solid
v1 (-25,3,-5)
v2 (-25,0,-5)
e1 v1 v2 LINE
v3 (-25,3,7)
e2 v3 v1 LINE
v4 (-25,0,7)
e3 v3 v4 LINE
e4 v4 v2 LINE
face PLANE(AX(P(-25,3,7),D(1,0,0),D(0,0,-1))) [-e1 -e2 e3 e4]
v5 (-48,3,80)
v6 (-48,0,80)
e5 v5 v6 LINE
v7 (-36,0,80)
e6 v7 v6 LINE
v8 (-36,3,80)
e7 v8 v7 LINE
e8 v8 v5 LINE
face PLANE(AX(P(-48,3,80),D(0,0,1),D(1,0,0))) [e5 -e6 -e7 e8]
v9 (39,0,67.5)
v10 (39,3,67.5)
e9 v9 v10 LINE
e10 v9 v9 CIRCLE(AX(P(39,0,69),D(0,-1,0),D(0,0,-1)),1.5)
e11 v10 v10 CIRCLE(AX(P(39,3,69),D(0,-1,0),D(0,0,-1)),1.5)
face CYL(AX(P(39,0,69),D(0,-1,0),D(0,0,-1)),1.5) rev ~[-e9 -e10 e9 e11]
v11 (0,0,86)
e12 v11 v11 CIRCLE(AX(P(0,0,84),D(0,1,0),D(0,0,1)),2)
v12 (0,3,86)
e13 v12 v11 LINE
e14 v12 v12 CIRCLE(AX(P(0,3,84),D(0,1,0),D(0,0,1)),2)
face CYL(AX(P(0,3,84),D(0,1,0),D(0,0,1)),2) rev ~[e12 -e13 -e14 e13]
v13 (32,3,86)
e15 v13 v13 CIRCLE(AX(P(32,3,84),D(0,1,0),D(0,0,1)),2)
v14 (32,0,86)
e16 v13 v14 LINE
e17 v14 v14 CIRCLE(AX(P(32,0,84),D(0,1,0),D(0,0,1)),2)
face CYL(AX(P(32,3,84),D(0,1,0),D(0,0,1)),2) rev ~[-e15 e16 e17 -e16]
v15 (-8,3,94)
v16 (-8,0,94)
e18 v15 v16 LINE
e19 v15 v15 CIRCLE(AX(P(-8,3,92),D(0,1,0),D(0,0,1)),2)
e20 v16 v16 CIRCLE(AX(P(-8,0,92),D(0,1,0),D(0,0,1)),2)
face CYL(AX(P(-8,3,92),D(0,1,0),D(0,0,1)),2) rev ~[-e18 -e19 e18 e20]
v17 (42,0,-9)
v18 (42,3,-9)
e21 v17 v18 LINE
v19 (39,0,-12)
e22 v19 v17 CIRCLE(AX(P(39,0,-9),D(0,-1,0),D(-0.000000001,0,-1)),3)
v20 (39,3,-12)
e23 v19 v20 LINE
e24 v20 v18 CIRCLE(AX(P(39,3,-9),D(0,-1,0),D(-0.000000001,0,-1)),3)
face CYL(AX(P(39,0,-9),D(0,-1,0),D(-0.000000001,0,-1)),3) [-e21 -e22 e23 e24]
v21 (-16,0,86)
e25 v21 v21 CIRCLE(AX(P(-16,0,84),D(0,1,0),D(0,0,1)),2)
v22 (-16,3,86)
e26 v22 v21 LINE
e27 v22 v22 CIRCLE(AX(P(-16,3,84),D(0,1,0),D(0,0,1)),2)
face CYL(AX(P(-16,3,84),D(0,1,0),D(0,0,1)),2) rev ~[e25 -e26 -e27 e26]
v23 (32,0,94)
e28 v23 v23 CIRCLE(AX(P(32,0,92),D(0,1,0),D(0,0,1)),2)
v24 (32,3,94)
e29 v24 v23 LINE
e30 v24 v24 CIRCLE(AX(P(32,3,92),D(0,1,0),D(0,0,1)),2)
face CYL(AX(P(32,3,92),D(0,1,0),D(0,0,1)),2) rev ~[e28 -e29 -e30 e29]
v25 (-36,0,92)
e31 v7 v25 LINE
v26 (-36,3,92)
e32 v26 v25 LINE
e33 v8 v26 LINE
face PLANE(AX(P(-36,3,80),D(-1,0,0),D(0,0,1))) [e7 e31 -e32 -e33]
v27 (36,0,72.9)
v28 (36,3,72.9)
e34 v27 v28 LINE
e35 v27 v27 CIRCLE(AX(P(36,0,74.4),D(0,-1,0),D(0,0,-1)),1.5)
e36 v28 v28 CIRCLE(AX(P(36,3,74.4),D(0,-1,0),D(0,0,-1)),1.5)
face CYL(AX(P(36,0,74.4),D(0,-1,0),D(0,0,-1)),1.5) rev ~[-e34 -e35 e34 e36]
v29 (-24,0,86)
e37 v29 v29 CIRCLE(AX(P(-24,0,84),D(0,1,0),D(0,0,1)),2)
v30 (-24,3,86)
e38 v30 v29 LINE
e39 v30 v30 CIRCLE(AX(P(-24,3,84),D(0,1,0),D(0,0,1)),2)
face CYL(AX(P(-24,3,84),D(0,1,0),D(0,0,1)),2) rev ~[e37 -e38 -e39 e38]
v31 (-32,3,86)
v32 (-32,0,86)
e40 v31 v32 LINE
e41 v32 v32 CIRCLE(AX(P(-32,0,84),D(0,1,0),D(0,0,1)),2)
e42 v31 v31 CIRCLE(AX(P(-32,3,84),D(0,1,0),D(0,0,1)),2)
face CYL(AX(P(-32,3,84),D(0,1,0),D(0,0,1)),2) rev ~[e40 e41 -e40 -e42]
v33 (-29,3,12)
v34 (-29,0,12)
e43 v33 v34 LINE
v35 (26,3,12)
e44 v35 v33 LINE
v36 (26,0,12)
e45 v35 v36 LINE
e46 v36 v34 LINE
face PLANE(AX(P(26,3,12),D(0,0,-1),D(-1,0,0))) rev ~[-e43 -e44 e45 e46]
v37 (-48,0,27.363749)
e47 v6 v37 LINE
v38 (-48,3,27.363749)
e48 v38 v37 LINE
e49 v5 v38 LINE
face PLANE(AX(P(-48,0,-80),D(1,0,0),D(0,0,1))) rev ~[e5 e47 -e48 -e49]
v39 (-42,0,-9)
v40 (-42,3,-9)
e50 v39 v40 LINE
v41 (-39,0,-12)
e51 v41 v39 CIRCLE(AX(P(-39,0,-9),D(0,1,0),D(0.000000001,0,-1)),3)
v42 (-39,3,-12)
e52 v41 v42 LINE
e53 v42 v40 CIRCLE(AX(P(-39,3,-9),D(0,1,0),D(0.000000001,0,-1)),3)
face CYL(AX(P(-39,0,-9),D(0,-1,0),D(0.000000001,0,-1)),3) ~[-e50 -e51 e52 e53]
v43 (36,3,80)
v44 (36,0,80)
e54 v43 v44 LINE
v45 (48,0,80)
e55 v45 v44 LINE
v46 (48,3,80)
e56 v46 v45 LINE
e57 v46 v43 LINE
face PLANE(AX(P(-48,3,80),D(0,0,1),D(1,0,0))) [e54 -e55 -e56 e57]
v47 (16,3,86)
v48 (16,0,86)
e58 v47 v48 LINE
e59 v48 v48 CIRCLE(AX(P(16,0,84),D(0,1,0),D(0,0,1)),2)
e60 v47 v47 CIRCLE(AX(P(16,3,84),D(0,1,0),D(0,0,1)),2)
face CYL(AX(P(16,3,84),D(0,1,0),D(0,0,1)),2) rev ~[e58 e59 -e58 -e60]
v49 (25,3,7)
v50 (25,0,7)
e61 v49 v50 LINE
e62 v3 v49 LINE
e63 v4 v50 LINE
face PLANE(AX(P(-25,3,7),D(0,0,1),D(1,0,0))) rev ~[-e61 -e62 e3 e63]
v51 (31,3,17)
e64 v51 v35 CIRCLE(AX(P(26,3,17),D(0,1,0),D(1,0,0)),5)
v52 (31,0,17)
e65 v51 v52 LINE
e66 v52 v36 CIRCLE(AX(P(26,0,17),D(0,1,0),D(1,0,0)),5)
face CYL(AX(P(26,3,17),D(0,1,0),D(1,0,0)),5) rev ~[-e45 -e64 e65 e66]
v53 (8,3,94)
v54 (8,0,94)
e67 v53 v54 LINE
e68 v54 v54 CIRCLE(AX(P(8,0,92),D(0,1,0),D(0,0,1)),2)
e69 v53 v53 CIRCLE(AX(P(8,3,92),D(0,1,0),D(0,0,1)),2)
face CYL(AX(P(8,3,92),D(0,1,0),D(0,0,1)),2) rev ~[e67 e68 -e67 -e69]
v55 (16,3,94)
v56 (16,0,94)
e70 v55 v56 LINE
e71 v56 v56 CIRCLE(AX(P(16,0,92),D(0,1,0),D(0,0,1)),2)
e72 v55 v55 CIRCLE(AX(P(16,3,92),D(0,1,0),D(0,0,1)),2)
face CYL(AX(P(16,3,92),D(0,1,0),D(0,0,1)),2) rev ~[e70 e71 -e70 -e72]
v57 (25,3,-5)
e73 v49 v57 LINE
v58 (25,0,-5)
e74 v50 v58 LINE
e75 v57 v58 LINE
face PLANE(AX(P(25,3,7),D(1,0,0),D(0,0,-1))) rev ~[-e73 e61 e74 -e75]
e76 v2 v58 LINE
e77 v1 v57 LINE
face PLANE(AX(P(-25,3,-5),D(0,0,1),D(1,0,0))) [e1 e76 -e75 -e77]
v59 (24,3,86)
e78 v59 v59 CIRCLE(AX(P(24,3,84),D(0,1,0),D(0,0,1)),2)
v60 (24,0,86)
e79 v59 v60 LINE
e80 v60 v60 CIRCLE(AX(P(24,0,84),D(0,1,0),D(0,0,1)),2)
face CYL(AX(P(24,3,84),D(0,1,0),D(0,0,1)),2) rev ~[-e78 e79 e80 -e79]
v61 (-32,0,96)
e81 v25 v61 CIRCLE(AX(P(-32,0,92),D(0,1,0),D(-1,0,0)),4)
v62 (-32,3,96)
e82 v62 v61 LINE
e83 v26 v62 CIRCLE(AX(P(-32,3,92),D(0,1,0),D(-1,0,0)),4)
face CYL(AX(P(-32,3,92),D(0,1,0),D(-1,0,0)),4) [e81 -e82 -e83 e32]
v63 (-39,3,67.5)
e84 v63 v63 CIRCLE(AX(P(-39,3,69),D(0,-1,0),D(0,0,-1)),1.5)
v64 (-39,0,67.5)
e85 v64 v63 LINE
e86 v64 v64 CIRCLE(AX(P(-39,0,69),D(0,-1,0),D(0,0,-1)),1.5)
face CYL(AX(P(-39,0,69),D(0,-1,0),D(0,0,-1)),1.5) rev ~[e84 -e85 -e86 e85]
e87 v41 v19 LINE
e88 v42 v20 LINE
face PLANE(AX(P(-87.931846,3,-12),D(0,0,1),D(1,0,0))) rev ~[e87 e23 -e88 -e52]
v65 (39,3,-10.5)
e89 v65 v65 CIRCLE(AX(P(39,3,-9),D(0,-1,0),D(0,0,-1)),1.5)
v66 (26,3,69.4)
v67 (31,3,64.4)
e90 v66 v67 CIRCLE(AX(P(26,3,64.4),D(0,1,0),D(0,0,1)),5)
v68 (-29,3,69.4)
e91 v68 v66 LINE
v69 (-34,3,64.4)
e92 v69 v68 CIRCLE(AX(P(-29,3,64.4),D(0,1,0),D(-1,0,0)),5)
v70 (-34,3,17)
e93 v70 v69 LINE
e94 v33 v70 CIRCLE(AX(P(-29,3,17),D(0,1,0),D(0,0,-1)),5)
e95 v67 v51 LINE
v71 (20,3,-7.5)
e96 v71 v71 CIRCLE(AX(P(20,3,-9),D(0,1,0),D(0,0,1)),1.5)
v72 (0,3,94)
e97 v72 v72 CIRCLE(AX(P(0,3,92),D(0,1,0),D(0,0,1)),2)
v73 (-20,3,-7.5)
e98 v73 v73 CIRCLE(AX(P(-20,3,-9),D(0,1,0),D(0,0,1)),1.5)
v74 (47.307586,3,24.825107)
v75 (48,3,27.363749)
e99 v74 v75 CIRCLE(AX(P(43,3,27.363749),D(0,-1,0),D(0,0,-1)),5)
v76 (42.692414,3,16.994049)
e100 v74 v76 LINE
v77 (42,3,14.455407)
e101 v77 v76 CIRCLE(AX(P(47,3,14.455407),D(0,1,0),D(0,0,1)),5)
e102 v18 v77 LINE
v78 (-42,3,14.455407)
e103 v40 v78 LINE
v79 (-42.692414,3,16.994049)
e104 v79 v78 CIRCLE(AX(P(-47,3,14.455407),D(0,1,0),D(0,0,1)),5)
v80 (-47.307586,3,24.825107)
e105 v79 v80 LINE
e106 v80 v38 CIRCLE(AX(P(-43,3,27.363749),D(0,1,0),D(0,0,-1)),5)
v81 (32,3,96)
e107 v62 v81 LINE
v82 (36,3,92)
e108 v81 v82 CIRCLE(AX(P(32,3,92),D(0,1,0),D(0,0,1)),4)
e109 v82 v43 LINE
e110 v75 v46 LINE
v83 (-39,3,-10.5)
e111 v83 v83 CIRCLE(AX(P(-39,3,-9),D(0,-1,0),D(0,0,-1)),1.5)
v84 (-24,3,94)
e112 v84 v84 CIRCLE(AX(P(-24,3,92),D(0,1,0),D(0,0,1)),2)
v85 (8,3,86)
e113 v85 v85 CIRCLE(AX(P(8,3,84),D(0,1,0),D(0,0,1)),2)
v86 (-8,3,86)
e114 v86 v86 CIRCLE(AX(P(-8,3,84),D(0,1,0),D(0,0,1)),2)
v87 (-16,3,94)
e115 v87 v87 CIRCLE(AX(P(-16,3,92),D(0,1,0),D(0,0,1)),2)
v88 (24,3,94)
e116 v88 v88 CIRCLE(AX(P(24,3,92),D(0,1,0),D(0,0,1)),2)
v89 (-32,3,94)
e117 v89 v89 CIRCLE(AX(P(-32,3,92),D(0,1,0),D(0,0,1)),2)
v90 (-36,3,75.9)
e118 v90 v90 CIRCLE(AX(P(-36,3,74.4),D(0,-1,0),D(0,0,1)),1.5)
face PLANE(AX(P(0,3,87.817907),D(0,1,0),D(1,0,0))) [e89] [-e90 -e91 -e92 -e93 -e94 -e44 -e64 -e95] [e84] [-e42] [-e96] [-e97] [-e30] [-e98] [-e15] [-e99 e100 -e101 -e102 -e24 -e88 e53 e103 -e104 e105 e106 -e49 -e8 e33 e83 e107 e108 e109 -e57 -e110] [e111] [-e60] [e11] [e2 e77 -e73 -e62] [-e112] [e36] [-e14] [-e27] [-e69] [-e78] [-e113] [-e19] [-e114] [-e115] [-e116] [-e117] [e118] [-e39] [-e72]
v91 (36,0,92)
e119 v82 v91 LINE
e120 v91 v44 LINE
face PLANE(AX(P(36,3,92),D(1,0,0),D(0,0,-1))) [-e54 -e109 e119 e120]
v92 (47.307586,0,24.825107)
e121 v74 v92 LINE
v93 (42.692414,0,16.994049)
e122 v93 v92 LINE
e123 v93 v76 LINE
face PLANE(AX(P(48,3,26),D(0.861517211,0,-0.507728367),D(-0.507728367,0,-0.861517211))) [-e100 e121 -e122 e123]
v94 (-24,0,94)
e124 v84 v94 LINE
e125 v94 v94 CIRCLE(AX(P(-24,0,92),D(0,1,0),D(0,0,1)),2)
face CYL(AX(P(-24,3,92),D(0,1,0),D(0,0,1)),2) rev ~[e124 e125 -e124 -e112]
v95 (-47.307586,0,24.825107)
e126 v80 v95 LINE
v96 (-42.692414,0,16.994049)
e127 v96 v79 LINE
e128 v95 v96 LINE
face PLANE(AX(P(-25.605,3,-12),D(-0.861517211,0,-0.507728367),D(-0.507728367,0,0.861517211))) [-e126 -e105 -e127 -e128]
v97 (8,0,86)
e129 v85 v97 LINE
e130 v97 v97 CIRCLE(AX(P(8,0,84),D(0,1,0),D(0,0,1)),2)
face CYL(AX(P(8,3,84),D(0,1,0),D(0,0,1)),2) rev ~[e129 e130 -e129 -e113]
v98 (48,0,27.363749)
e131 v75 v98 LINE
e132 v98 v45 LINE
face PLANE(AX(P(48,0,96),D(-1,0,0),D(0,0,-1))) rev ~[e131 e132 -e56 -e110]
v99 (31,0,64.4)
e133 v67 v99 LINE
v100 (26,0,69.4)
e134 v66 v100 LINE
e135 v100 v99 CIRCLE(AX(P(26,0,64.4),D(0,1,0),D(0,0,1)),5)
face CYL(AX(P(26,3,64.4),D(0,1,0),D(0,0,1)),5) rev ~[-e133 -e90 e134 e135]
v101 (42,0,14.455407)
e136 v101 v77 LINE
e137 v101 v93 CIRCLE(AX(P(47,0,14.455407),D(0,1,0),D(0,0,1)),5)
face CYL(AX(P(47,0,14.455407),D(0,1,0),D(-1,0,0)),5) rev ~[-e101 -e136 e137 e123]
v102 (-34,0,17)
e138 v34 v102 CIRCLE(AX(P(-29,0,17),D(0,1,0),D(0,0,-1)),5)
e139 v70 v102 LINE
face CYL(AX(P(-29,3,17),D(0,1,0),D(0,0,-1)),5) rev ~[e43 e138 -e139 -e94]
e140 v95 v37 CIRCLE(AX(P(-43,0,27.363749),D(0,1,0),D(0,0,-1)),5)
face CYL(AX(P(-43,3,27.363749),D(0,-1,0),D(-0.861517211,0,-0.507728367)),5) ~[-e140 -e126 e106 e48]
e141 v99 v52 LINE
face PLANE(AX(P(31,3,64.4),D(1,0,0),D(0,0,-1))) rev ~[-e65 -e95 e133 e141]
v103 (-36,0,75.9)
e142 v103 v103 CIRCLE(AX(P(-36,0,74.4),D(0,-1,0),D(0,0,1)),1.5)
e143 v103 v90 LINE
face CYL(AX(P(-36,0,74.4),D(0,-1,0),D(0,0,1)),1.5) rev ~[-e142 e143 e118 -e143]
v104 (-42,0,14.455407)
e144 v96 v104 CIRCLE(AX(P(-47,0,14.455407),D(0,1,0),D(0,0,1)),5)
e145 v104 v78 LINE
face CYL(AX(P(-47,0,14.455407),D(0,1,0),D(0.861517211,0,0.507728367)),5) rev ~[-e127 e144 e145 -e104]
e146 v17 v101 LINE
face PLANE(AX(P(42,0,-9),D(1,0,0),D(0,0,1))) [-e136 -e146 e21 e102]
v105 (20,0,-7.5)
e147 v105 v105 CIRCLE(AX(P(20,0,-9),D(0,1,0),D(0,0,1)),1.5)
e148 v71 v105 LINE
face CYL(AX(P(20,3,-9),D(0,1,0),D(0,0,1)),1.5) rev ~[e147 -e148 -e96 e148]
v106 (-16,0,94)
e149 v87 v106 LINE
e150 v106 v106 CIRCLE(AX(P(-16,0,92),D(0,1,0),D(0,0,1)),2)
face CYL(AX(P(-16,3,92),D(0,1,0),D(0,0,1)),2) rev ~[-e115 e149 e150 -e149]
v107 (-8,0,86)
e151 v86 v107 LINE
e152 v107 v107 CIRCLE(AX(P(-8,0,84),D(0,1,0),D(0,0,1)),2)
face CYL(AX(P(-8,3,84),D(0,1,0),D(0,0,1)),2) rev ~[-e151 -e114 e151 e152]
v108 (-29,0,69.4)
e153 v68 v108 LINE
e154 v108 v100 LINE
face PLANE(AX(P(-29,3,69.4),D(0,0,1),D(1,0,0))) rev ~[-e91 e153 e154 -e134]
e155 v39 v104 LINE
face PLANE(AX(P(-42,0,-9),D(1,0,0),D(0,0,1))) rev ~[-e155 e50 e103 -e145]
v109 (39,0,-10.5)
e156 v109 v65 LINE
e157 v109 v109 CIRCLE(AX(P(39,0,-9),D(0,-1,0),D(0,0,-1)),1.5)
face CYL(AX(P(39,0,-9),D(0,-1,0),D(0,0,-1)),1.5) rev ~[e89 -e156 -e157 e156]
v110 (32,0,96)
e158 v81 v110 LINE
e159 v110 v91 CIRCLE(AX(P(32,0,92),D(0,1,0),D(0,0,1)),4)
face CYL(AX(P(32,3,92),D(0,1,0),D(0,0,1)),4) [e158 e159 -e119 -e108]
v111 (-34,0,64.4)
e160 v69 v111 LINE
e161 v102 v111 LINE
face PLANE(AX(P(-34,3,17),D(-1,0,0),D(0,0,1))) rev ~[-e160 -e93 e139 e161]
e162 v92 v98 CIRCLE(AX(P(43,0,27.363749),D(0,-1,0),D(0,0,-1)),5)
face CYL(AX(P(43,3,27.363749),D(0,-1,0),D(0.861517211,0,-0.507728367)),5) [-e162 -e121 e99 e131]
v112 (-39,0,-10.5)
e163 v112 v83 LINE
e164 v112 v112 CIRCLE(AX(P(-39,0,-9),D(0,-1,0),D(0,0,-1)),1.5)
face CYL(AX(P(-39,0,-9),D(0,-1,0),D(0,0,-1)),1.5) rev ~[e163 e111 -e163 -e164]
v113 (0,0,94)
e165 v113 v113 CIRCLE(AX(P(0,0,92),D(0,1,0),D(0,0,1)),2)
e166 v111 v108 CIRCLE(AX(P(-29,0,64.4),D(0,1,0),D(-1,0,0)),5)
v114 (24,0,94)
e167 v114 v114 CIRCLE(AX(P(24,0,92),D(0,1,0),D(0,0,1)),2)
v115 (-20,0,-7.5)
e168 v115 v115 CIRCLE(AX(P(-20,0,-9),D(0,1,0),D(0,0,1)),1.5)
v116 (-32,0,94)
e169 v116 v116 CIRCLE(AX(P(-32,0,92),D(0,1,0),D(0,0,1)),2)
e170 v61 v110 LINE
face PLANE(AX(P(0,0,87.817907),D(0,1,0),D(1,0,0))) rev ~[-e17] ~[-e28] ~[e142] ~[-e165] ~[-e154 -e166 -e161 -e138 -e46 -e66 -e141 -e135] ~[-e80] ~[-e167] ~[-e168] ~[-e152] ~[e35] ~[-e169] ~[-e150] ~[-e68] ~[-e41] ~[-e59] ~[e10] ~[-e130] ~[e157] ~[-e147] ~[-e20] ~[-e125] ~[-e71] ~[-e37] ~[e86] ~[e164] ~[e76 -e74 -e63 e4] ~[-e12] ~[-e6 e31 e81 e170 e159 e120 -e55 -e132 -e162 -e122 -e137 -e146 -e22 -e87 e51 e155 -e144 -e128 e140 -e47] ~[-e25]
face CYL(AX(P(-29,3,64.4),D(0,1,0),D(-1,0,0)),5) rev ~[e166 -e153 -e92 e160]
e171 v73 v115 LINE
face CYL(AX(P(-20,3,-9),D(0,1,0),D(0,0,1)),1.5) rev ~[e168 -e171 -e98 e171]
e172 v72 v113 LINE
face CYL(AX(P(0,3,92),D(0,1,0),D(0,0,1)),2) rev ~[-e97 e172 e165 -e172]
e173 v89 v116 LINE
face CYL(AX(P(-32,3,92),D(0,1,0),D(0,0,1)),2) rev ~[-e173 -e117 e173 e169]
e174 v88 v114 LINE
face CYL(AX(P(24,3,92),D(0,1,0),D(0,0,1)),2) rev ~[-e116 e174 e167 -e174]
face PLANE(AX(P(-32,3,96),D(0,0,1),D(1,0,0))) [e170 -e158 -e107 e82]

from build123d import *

# Parameters (mm, degrees)
SKETCH1_R            = 1.5
SKETCH1_R_2          = 1.65
SKETCH1_W            = 6
SKETCH1_H            = 28
BOSS_EXTRUDE1_DEPTH  = 3
CUT_EXTRUDE2_REACH   = 109.373
SKETCH3_R            = 1.5
CUT_EXTRUDE3_REACH   = 109.373
SKETCH4_W            = 22.395
SKETCH4_H            = 68
SKETCH6_W            = 51.21
SKETCH6_H            = 5
BOSS_EXTRUDE2_DEPTH  = 3
CUT_EXTRUDE4_REACH   = 109.373
SKETCH7_R            = 1.5
CUT_EXTRUDE5_REACH   = 109.373
SKETCH9_R            = 1.5
CUT_EXTRUDE6_REACH   = 109.373
SKETCH11_R           = 1.5
SKETCH11_R_2         = 2.5
BOSS_EXTRUDE3_DEPTH  = 3
CUT_EXTRUDE7_REACH   = 109.373
CUT_EXTRUDE8_START   = -3
SKETCH13_W           = 4.95
SKETCH13_H           = 15
SKETCH13_W_2         = 6.078763038
SKETCH13_H_2         = 4.767996375
CUT_EXTRUDE8_DEPTH   = 3
BOSS_EXTRUDE4_DEPTH  = 3
CUT_EXTRUDE9_REACH   = 120.849
SKETCH15_R           = 1.5
CUT_EXTRUDE10_DEPTH  = 119.84864324
SKETCH19_W           = 9
SKETCH19_H           = 48.6
SKETCH19_W_2         = 31.468413904
SKETCH19_H_2         = 28.051944454
BOSS_EXTRUDE5_DEPTH  = 3
SKETCH20_W           = 96
SKETCH20_H           = 16
CUT_EXTRUDE11_DEPTH  = 108.373181009
SKETCH22_W           = 4.143615352
SKETCH22_H           = 3.607002568
BOSS_EXTRUDE6_DEPTH  = 3
FILLET1_R            = 5
SKETCH28_W           = 50
SKETCH28_H           = 12
CUT_EXTRUDE17_DEPTH  = 94.343451832
SKETCH31_R           = 1.5
CUT_EXTRUDE19_DEPTH  = 94.343451832
SKETCH32_W           = 5.202582904
SKETCH32_H           = 21.351262034
SKETCH32_W_2         = 7.465414109
SKETCH32_H_2         = 19.935407633
SKETCH32_W_3         = 6.489723268
SKETCH32_H_3         = 24.826541016
BOSS_EXTRUDE8_DEPTH  = 3
SKETCH34_R           = 1.5
BOSS_EXTRUDE9_DEPTH  = 3
FILLET3_R            = 5
CUT_EXTRUDE20_DEPTH  = 94.343451832
SKETCH36_R           = 2
BOSS_EXTRUDE10_DEPTH = 3
SKETCH37_R           = 1.5
CUT_EXTRUDE21_DEPTH  = 10


with BuildPart() as part:
    # Sketch1 → Boss-Extrude1 (new body)
    with BuildSketch(Plane(origin=(0, 0, 0), x_dir=(1, 0, 0), z_dir=(0, 1, 0))):
        Polygon((-48, -80), (-48, 80), (48, 80), (48, -80), (48, -96), (-48, -96), align=None)
        with Locations(Location((45.5, -74, 0), (0, 0, 270))):
            Circle(SKETCH1_R, mode=Mode.SUBTRACT)
        with Locations(Location((45.5, -64, 0), (0, 0, 270))):
            Circle(SKETCH1_R, mode=Mode.SUBTRACT)
        with Locations(Location((-45.5, -64, 0), (0, 0, 270))):
            Circle(SKETCH1_R, mode=Mode.SUBTRACT)
        with Locations(Location((-45.5, -74, 0), (0, 0, 270))):
            Circle(SKETCH1_R, mode=Mode.SUBTRACT)
        with Locations(Location((8.25, -74, 0), (0, 0, 270))):
            Circle(SKETCH1_R, mode=Mode.SUBTRACT)
        with Locations(Location((8.25, -64, 0), (0, 0, 270))):
            Circle(SKETCH1_R, mode=Mode.SUBTRACT)
        with Locations(Location((0.259511597, -37.46931278, 0), (0, 0, 270))):
            Circle(SKETCH1_R_2, mode=Mode.SUBTRACT)
        with Locations(Location((15.320886036, -37.46931278, 0), (0, 0, 270))):
            Circle(SKETCH1_R_2, mode=Mode.SUBTRACT)
        with Locations(Location((15.320886036, -52.53068722, 0), (0, 0, 270))):
            Circle(SKETCH1_R_2, mode=Mode.SUBTRACT)
        with Locations(Location((0.259511597, -52.53068722, 0), (0, 0, 270))):
            Circle(SKETCH1_R_2, mode=Mode.SUBTRACT)
        with Locations(Location((17.55, -90, 0), (0, 0, 270))):
            Circle(SKETCH1_R, mode=Mode.SUBTRACT)
        with Locations(Location((45.55, -90, 0), (0, 0, 270))):
            Circle(SKETCH1_R, mode=Mode.SUBTRACT)
        with Locations(Location((-45.55, -90, 0), (0, 0, 90))):
            Circle(SKETCH1_R, mode=Mode.SUBTRACT)
        with Locations(Location((-17.55, -90, 0), (0, 0, 90))):
            Circle(SKETCH1_R, mode=Mode.SUBTRACT)
        with Locations((22.5, -45.4)):
            Rectangle(SKETCH1_W, SKETCH1_H, mode=Mode.SUBTRACT)
        Polygon((43, -80), (34.5, -80), (34.5, -31.4), (43, -31.4), (43.5, -31.4), (43.5, -58), (43, -58), align=None, mode=Mode.SUBTRACT)
    extrude(amount=BOSS_EXTRUDE1_DEPTH)

    # Sketch3 → Cut-Extrude2 (cut, up to next)
    with BuildSketch(Plane(origin=(0, 3, 0), x_dir=(1, 0, 0), z_dir=(0, 1, 0)), mode=Mode.PRIVATE) as cut_extrude2_sk1:
        with Locations(Location((0, 9, 0), (0, 0, 270))):
            Circle(SKETCH3_R)
    cut_extrude2_tool1 = extrude(cut_extrude2_sk1.sketch, amount=-CUT_EXTRUDE2_REACH, mode=Mode.PRIVATE) & part.part
    add(cut_extrude2_tool1.solids().sort_by_distance((0, 3, -9))[0], mode=Mode.SUBTRACT)

    # Sketch4 → Cut-Extrude3 (cut, up to next)
    with BuildSketch(Plane(origin=(0, 3, 0), x_dir=(1, 0, 0), z_dir=(0, 1, 0)), mode=Mode.PRIVATE) as cut_extrude3_sk1:
        with Locations((36.8025, 46)):
            Rectangle(SKETCH4_W, SKETCH4_H)
    cut_extrude3_tool1 = extrude(cut_extrude3_sk1.sketch, amount=-CUT_EXTRUDE3_REACH, mode=Mode.PRIVATE) & part.part
    # Sketch4 → Cut-Extrude3 (cut, up to next)
    with BuildSketch(Plane(origin=(0, 3, 0), x_dir=(1, 0, 0), z_dir=(0, 1, 0)), mode=Mode.PRIVATE) as cut_extrude3_sk2:
        with Locations((-36.8025, 46)):
            Rectangle(SKETCH4_W, SKETCH4_H)
    cut_extrude3_tool2 = extrude(cut_extrude3_sk2.sketch, amount=-CUT_EXTRUDE3_REACH, mode=Mode.PRIVATE) & part.part
    add(cut_extrude3_tool1.solids().sort_by_distance((36.8025, 3, -46))[0], mode=Mode.SUBTRACT)
    add(cut_extrude3_tool2.solids().sort_by_distance((-36.8025, 3, -46))[0], mode=Mode.SUBTRACT)

    # Sketch6 → Boss-Extrude2 (add)
    with BuildSketch(Plane(origin=(0, 3, 0), x_dir=(1, 0, 0), z_dir=(0, 1, 0))):
        with Locations((0, 82.5)):
            Rectangle(SKETCH6_W, SKETCH6_H)
    extrude(amount=-BOSS_EXTRUDE2_DEPTH)

    # Sketch7 → Cut-Extrude4 (cut, up to next)
    with BuildSketch(Plane(origin=(0, 3, 0), x_dir=(1, 0, 0), z_dir=(0, 1, 0)), mode=Mode.PRIVATE) as cut_extrude4_sk1:
        with Locations(Location((-17.8495, 79.268380868, 0), (0, 0, 270))):
            Circle(SKETCH7_R)
    cut_extrude4_tool1 = extrude(cut_extrude4_sk1.sketch, amount=-CUT_EXTRUDE4_REACH, mode=Mode.PRIVATE) & part.part
    # Sketch7 → Cut-Extrude4 (cut, up to next)
    with BuildSketch(Plane(origin=(0, 3, 0), x_dir=(1, 0, 0), z_dir=(0, 1, 0)), mode=Mode.PRIVATE) as cut_extrude4_sk2:
        with Locations(Location((17.8495, 79.268380868, 0), (0, 0, 270))):
            Circle(SKETCH7_R)
    cut_extrude4_tool2 = extrude(cut_extrude4_sk2.sketch, amount=-CUT_EXTRUDE4_REACH, mode=Mode.PRIVATE) & part.part
    add(cut_extrude4_tool1.solids().sort_by_distance((-17.8495, 3, -79.268381))[0], mode=Mode.SUBTRACT)
    add(cut_extrude4_tool2.solids().sort_by_distance((17.8495, 3, -79.268381))[0], mode=Mode.SUBTRACT)

    # Sketch9 → Cut-Extrude5 (cut, up to next)
    with BuildSketch(Plane(origin=(0, 3, 0), x_dir=(1, 0, 0), z_dir=(0, 1, 0)), mode=Mode.PRIVATE) as cut_extrude5_sk1:
        with Locations(Location((-22.6907969, 44, 0), (0, 0, 270))):
            Circle(SKETCH9_R)
    cut_extrude5_tool1 = extrude(cut_extrude5_sk1.sketch, amount=-CUT_EXTRUDE5_REACH, mode=Mode.PRIVATE) & part.part
    # Sketch9 → Cut-Extrude5 (cut, up to next)
    with BuildSketch(Plane(origin=(0, 3, 0), x_dir=(1, 0, 0), z_dir=(0, 1, 0)), mode=Mode.PRIVATE) as cut_extrude5_sk2:
        with Locations(Location((22.6907969, 44, 0), (0, 0, 270))):
            Circle(SKETCH9_R)
    cut_extrude5_tool2 = extrude(cut_extrude5_sk2.sketch, amount=-CUT_EXTRUDE5_REACH, mode=Mode.PRIVATE) & part.part
    add(cut_extrude5_tool1.solids().sort_by_distance((-22.690797, 3, -44))[0], mode=Mode.SUBTRACT)
    add(cut_extrude5_tool2.solids().sort_by_distance((22.690797, 3, -44))[0], mode=Mode.SUBTRACT)

    # Sketch10 → Cut-Extrude6 (cut, up to next)
    with BuildSketch(Plane(origin=(0, 3, 0), x_dir=(1, 0, 0), z_dir=(0, 1, 0)), mode=Mode.PRIVATE) as cut_extrude6_sk1:
        Polygon((48, -26), (25.605, 12), (48, 12), align=None)
    cut_extrude6_tool1 = extrude(cut_extrude6_sk1.sketch, amount=-CUT_EXTRUDE6_REACH, mode=Mode.PRIVATE) & part.part
    # Sketch10 → Cut-Extrude6 (cut, up to next)
    with BuildSketch(Plane(origin=(0, 3, 0), x_dir=(1, 0, 0), z_dir=(0, 1, 0)), mode=Mode.PRIVATE) as cut_extrude6_sk2:
        Polygon((-48, -26), (-48, 12), (-25.605, 12), align=None)
    cut_extrude6_tool2 = extrude(cut_extrude6_sk2.sketch, amount=-CUT_EXTRUDE6_REACH, mode=Mode.PRIVATE) & part.part
    add(cut_extrude6_tool1.solids().sort_by_distance((40.535, 3, 0.666667))[0], mode=Mode.SUBTRACT)
    add(cut_extrude6_tool2.solids().sort_by_distance((-40.535, 3, 0.666667))[0], mode=Mode.SUBTRACT)

    # Sketch11 → Boss-Extrude3 (add)
    # profile 1 of 2: a face of its own
    with BuildSketch(Plane.XZ):
        with BuildLine():
            Line((-45.873798612, -40.351535952), (-25.605, -52.641311078))
            Line((-25.605, -52.641311078), (-25.605, -35.641311078))
            Line((-25.605, -35.641311078), (-31.796655586, -35.641311078))
            Line((-31.796655586, -35.641311078), (-42.885371512, -33.037114659))
            ThreePointArc((-42.885371512, -33.037114659), (-47.502761912, -35.418300045), (-45.873798612, -40.351535952))
        make_face()
        with Locations(Location((-32.930328676, -41.931167665, 0), (0, 0, 270))):
            Circle(SKETCH11_R, mode=Mode.SUBTRACT)
        with Locations(Location((-43.799893893, -36.931167665, 0), (0, 0, 270))):
            Circle(SKETCH11_R_2, mode=Mode.SUBTRACT)
    # profile 2 of 2: a face of its own
    with BuildSketch(Plane.XZ):
        with BuildLine():
            Line((25.605, -35.641311078), (25.605, -52.641311078))
            Line((25.605, -52.641311078), (45.873798612, -40.351535952))
            ThreePointArc((45.873798612, -40.351535952), (47.502761912, -35.418300045), (42.885371512, -33.037114659))
            Line((42.885371512, -33.037114659), (31.796655586, -35.641311078))
            Line((31.796655586, -35.641311078), (25.605, -35.641311078))
        make_face()
        with Locations(Location((32.930328676, -41.931167665, 0), (0, 0, 270))):
            Circle(SKETCH11_R, mode=Mode.SUBTRACT)
        with Locations(Location((43.799893893, -36.931167665, 0), (0, 0, 270))):
            Circle(SKETCH11_R_2, mode=Mode.SUBTRACT)
    extrude(amount=-BOSS_EXTRUDE3_DEPTH)

    # Sketch12 → Cut-Extrude7 (cut, up to next)
    with BuildSketch(Plane.XZ, mode=Mode.PRIVATE) as cut_extrude7_sk1:
        Polygon((-11.899893893, -39.441311078), (-11.899893893, -54.741311078), (12.200106107, -54.741311078), (12.200106107, -39.441311078), (17.036431901, -39.441311078), (17.164018107, -32.041311078), (12.200106107, -32.041311078), (12.200106107, -31.191311078), (12.200106107, -25.191311078), (12.200106107, -19.091311078), (-3.799893893, -19.091311078), (-3.799893893, -30.391311078), (-11.899893893, -30.391311078), (-11.899893893, -32.041311078), (-16.849893893, -32.041311078), (-16.849893893, -39.441311078), align=None)
    cut_extrude7_tool1 = extrude(cut_extrude7_sk1.sketch, amount=-CUT_EXTRUDE7_REACH, mode=Mode.PRIVATE) & part.part
    add(cut_extrude7_tool1.solids().sort_by_distance((1.013826, 0, -38.139532))[0], mode=Mode.SUBTRACT)

    # Sketch13 → Cut-Extrude8 (cut)
    with BuildSketch(Plane.XZ.offset(CUT_EXTRUDE8_START)):
        with Locations((-14.374893893, -36.541311078)):
            Rectangle(SKETCH13_W, SKETCH13_H)
        with Locations((14.675106107, -36.541311078)):
            Rectangle(SKETCH13_W, SKETCH13_H)
        with Locations((15.239487626, -48.991959171)):
            Rectangle(SKETCH13_W_2, SKETCH13_H_2)
    extrude(amount=CUT_EXTRUDE8_DEPTH, mode=Mode.SUBTRACT)

    # Sketch14 → Boss-Extrude4 (add)
    with BuildSketch(Plane.XZ):
        with BuildLine():
            Line((-62, -85), (-25.605, -85))
            Line((-25.605, -85), (-25.605, -72))
            Line((-25.605, -72), (-70, -72))
            Line((-70, -72), (-70, -77))
            ThreePointArc((-70, -77), (-67.656854249, -82.656854249), (-62, -85))
        make_face()
        with BuildLine():
            Line((25.605, -72), (25.605, -85))
            Line((25.605, -85), (62, -85))
            ThreePointArc((62, -85), (67.656854249, -82.656854249), (70, -77))
            Line((70, -77), (70, -72))
            Line((70, -72), (25.605, -72))
        make_face()
    extrude(amount=-BOSS_EXTRUDE4_DEPTH)

    # Sketch15 → Cut-Extrude9 (cut, up to next)
    with BuildSketch(Plane(origin=(0, 3, 0), x_dir=(1, 0, 0), z_dir=(0, 1, 0)), mode=Mode.PRIVATE) as cut_extrude9_sk1:
        with Locations(Location((-20, 9, 0), (0, 0, 270))):
            Circle(SKETCH15_R)
    cut_extrude9_tool1 = extrude(cut_extrude9_sk1.sketch, amount=-CUT_EXTRUDE9_REACH, mode=Mode.PRIVATE) & part.part
    # Sketch15 → Cut-Extrude9 (cut, up to next)
    with BuildSketch(Plane(origin=(0, 3, 0), x_dir=(1, 0, 0), z_dir=(0, 1, 0)), mode=Mode.PRIVATE) as cut_extrude9_sk2:
        with Locations(Location((20, 9, 0), (0, 0, 270))):
            Circle(SKETCH15_R)
    cut_extrude9_tool2 = extrude(cut_extrude9_sk2.sketch, amount=-CUT_EXTRUDE9_REACH, mode=Mode.PRIVATE) & part.part
    add(cut_extrude9_tool1.solids().sort_by_distance((-20, 3, -9))[0], mode=Mode.SUBTRACT)
    add(cut_extrude9_tool2.solids().sort_by_distance((20, 3, -9))[0], mode=Mode.SUBTRACT)

    # Sketch18 → Cut-Extrude10 (cut, through all)
    with BuildSketch(Plane(origin=(0, 3, 0), x_dir=(1, 0, 0), z_dir=(0, 1, 0))):
        Polygon((-87.931846418, 12), (-25.605, 12), (25.605, 12), (83.08251035, 12), (83.08251035, 92.113601242), (-87.931846418, 92.113601242), align=None)
    extrude(amount=-CUT_EXTRUDE10_DEPTH, mode=Mode.SUBTRACT)

    # Sketch19 → Boss-Extrude5 (add, through all)
    with BuildSketch(Plane(origin=(0, 3, 0), x_dir=(1, 0, 0), z_dir=(0, 1, 0))):
        with Locations((39, -55.7)):
            Rectangle(SKETCH19_W, SKETCH19_H)
        with Locations((9.765793048, -45.425972227)):
            Rectangle(SKETCH19_W_2, SKETCH19_H_2)
    extrude(amount=-BOSS_EXTRUDE5_DEPTH)

    # Sketch20 → Cut-Extrude11 (cut, through all)
    with BuildSketch(Plane(origin=(0, 3, 0), x_dir=(1, 0, 0), z_dir=(0, 1, 0))):
        with Locations((0, -88)):
            Rectangle(SKETCH20_W, SKETCH20_H)
    extrude(amount=-CUT_EXTRUDE11_DEPTH, mode=Mode.SUBTRACT)

    # Sketch22 → Boss-Extrude6 (add, through all)
    with BuildSketch(Plane(origin=(0, 3, 0), x_dir=(1, 0, 0), z_dir=(0, 1, 0))):
        with Locations((0, 9)):
            Rectangle(SKETCH22_W, SKETCH22_H)
    extrude(amount=-BOSS_EXTRUDE6_DEPTH)

    # Fillet1
    fillet1_edges = [part.edges().sort_by_distance(p)[0] for p in [
        (-25.605, 1.5, -12),
        (25.605, 1.5, -12),
        (48, 1.5, 26),
        (-48, 1.5, 26),
    ]]
    fillet(fillet1_edges, radius=FILLET1_R)

    # Sketch28 → Cut-Extrude17 (cut, through all)
    with BuildSketch(Plane(origin=(0, 3, 0), x_dir=(1, 0, 0), z_dir=(0, 1, 0))):
        with Locations((0, -1)):
            Rectangle(SKETCH28_W, SKETCH28_H)
    extrude(amount=-CUT_EXTRUDE17_DEPTH, mode=Mode.SUBTRACT)

    # Sketch31 → Cut-Extrude19 (cut, through all)
    with BuildSketch(Plane.XZ):
        with Locations(Location((36, 74.4, 0), (0, 0, 270))):
            Circle(SKETCH31_R)
        with Locations(Location((-36, 74.4, 0), (0, 0, 90))):
            Circle(SKETCH31_R)
    extrude(amount=-CUT_EXTRUDE19_DEPTH, mode=Mode.SUBTRACT)

    # Sketch32 → Boss-Extrude8 (add, through all)
    with BuildSketch(Plane.XZ):
        with Locations((-45.398708548, 69.324368983)):
            Rectangle(SKETCH32_W, SKETCH32_H)
        with Locations((7.658485165, 70.032296183)):
            Rectangle(SKETCH32_W_2, SKETCH32_H_2)
        with Locations((44.755138366, 67.586729492)):
            Rectangle(SKETCH32_W_3, SKETCH32_H_3)
    extrude(amount=-BOSS_EXTRUDE8_DEPTH)

    # Sketch34 → Boss-Extrude9 (add, through all)
    # profile 1 of 4: a face of its own
    with BuildSketch(Plane.XZ):
        with Locations((-39, 69)):
            Circle(SKETCH34_R)
    # profile 2 of 4: a face of its own
    with BuildSketch(Plane.XZ):
        with Locations((39, 69)):
            Circle(SKETCH34_R)
    # profile 3 of 4: a face of its own
    with BuildSketch(Plane.XZ):
        with BuildLine():
            Line((-21.740709792, -12), (-39, -12))
            ThreePointArc((-39, -12), (-41.121320344, -11.121320344), (-42, -9))
            Line((-42, -9), (-42, 15.819156062))
            Line((-42, 15.819156062), (-21.740709792, -12))
        make_face()
        with Locations(Location((-39, -9, 0), (0, 0, 270))):
            Circle(SKETCH34_R, mode=Mode.SUBTRACT)
    # profile 4 of 4: a face of its own
    with BuildSketch(Plane.XZ):
        with BuildLine():
            Line((42, 15.819156062), (21.740709792, -12))
            Line((21.740709792, -12), (39, -12))
            ThreePointArc((39, -12), (41.121320344, -11.121320344), (42, -9))
            Line((42, -9), (42, 15.819156062))
        make_face()
        with Locations(Location((39, -9, 0), (0, 0, 270))):
            Circle(SKETCH34_R, mode=Mode.SUBTRACT)
    extrude(amount=-BOSS_EXTRUDE9_DEPTH)

    # Fillet3
    fillet3_edges = [part.edges().sort_by_distance(p)[0] for p in [
        (-42, 1.5, 15.819156062),
        (42, 1.5, 15.819156062),
    ]]
    fillet(fillet3_edges, radius=FILLET3_R)

    # Sketch35 → Cut-Extrude20 (cut, through all)
    with BuildSketch(Plane(origin=(0, 3, 0), x_dir=(1, 0, 0), z_dir=(0, 1, 0))):
        with BuildLine():
            Line((-29, -69.4), (26, -69.4))
            ThreePointArc((26, -69.4), (29.535533906, -67.935533906), (31, -64.4))
            Line((31, -64.4), (31, -17))
            ThreePointArc((31, -17), (29.535533906, -13.464466094), (26, -12))
            Line((26, -12), (-29, -12))
            ThreePointArc((-29, -12), (-32.535533906, -13.464466094), (-34, -17))
            Line((-34, -17), (-34, -64.4))
            ThreePointArc((-34, -64.4), (-32.535533906, -67.935533906), (-29, -69.4))
        make_face()
    extrude(amount=-CUT_EXTRUDE20_DEPTH, mode=Mode.SUBTRACT)

    # Sketch36 → Boss-Extrude10 (add, through all)
    with BuildSketch(Plane(origin=(0, 3, 0), x_dir=(1, 0, 0), z_dir=(0, 1, 0))):
        with BuildLine():
            Line((-32, -96), (32, -96))
            ThreePointArc((32, -96), (34.828427125, -94.828427125), (36, -92))
            Line((36, -92), (36, -80))
            Line((36, -80), (-36, -80))
            Line((-36, -80), (-36, -92))
            ThreePointArc((-36, -92), (-34.828427125, -94.828427125), (-32, -96))
        make_face()
        with Locations(Location((-32, -92, 0), (0, 0, 270))):
            Circle(SKETCH36_R, mode=Mode.SUBTRACT)
        with Locations(Location((-24, -92, 0), (0, 0, 270))):
            Circle(SKETCH36_R, mode=Mode.SUBTRACT)
        with Locations(Location((-16, -92, 0), (0, 0, 270))):
            Circle(SKETCH36_R, mode=Mode.SUBTRACT)
        with Locations(Location((-8, -92, 0), (0, 0, 270))):
            Circle(SKETCH36_R, mode=Mode.SUBTRACT)
        with Locations(Location((0, -92, 0), (0, 0, 270))):
            Circle(SKETCH36_R, mode=Mode.SUBTRACT)
        with Locations(Location((8, -92, 0), (0, 0, 270))):
            Circle(SKETCH36_R, mode=Mode.SUBTRACT)
        with Locations(Location((16, -92, 0), (0, 0, 270))):
            Circle(SKETCH36_R, mode=Mode.SUBTRACT)
        with Locations(Location((24, -92, 0), (0, 0, 270))):
            Circle(SKETCH36_R, mode=Mode.SUBTRACT)
        with Locations(Location((32, -92, 0), (0, 0, 270))):
            Circle(SKETCH36_R, mode=Mode.SUBTRACT)
        with Locations(Location((-32, -84, 0), (0, 0, 270))):
            Circle(SKETCH36_R, mode=Mode.SUBTRACT)
        with Locations(Location((-24, -84, 0), (0, 0, 270))):
            Circle(SKETCH36_R, mode=Mode.SUBTRACT)
        with Locations(Location((-16, -84, 0), (0, 0, 270))):
            Circle(SKETCH36_R, mode=Mode.SUBTRACT)
        with Locations(Location((-8, -84, 0), (0, 0, 270))):
            Circle(SKETCH36_R, mode=Mode.SUBTRACT)
        with Locations(Location((0, -84, 0), (0, 0, 270))):
            Circle(SKETCH36_R, mode=Mode.SUBTRACT)
        with Locations(Location((8, -84, 0), (0, 0, 270))):
            Circle(SKETCH36_R, mode=Mode.SUBTRACT)
        with Locations(Location((16, -84, 0), (0, 0, 270))):
            Circle(SKETCH36_R, mode=Mode.SUBTRACT)
        with Locations(Location((24, -84, 0), (0, 0, 270))):
            Circle(SKETCH36_R, mode=Mode.SUBTRACT)
        with Locations(Location((32, -84, 0), (0, 0, 270))):
            Circle(SKETCH36_R, mode=Mode.SUBTRACT)
    extrude(amount=-BOSS_EXTRUDE10_DEPTH)

    # Sketch37 → Cut-Extrude21 (cut)
    with BuildSketch(Plane.XZ):
        with Locations(Location((-39, 69, 0), (0, 0, 270))):
            Circle(SKETCH37_R)
        with Locations(Location((39, 69, 0), (0, 0, 270))):
            Circle(SKETCH37_R)
    extrude(amount=-CUT_EXTRUDE21_DEPTH, mode=Mode.SUBTRACT)


solid = part.part
